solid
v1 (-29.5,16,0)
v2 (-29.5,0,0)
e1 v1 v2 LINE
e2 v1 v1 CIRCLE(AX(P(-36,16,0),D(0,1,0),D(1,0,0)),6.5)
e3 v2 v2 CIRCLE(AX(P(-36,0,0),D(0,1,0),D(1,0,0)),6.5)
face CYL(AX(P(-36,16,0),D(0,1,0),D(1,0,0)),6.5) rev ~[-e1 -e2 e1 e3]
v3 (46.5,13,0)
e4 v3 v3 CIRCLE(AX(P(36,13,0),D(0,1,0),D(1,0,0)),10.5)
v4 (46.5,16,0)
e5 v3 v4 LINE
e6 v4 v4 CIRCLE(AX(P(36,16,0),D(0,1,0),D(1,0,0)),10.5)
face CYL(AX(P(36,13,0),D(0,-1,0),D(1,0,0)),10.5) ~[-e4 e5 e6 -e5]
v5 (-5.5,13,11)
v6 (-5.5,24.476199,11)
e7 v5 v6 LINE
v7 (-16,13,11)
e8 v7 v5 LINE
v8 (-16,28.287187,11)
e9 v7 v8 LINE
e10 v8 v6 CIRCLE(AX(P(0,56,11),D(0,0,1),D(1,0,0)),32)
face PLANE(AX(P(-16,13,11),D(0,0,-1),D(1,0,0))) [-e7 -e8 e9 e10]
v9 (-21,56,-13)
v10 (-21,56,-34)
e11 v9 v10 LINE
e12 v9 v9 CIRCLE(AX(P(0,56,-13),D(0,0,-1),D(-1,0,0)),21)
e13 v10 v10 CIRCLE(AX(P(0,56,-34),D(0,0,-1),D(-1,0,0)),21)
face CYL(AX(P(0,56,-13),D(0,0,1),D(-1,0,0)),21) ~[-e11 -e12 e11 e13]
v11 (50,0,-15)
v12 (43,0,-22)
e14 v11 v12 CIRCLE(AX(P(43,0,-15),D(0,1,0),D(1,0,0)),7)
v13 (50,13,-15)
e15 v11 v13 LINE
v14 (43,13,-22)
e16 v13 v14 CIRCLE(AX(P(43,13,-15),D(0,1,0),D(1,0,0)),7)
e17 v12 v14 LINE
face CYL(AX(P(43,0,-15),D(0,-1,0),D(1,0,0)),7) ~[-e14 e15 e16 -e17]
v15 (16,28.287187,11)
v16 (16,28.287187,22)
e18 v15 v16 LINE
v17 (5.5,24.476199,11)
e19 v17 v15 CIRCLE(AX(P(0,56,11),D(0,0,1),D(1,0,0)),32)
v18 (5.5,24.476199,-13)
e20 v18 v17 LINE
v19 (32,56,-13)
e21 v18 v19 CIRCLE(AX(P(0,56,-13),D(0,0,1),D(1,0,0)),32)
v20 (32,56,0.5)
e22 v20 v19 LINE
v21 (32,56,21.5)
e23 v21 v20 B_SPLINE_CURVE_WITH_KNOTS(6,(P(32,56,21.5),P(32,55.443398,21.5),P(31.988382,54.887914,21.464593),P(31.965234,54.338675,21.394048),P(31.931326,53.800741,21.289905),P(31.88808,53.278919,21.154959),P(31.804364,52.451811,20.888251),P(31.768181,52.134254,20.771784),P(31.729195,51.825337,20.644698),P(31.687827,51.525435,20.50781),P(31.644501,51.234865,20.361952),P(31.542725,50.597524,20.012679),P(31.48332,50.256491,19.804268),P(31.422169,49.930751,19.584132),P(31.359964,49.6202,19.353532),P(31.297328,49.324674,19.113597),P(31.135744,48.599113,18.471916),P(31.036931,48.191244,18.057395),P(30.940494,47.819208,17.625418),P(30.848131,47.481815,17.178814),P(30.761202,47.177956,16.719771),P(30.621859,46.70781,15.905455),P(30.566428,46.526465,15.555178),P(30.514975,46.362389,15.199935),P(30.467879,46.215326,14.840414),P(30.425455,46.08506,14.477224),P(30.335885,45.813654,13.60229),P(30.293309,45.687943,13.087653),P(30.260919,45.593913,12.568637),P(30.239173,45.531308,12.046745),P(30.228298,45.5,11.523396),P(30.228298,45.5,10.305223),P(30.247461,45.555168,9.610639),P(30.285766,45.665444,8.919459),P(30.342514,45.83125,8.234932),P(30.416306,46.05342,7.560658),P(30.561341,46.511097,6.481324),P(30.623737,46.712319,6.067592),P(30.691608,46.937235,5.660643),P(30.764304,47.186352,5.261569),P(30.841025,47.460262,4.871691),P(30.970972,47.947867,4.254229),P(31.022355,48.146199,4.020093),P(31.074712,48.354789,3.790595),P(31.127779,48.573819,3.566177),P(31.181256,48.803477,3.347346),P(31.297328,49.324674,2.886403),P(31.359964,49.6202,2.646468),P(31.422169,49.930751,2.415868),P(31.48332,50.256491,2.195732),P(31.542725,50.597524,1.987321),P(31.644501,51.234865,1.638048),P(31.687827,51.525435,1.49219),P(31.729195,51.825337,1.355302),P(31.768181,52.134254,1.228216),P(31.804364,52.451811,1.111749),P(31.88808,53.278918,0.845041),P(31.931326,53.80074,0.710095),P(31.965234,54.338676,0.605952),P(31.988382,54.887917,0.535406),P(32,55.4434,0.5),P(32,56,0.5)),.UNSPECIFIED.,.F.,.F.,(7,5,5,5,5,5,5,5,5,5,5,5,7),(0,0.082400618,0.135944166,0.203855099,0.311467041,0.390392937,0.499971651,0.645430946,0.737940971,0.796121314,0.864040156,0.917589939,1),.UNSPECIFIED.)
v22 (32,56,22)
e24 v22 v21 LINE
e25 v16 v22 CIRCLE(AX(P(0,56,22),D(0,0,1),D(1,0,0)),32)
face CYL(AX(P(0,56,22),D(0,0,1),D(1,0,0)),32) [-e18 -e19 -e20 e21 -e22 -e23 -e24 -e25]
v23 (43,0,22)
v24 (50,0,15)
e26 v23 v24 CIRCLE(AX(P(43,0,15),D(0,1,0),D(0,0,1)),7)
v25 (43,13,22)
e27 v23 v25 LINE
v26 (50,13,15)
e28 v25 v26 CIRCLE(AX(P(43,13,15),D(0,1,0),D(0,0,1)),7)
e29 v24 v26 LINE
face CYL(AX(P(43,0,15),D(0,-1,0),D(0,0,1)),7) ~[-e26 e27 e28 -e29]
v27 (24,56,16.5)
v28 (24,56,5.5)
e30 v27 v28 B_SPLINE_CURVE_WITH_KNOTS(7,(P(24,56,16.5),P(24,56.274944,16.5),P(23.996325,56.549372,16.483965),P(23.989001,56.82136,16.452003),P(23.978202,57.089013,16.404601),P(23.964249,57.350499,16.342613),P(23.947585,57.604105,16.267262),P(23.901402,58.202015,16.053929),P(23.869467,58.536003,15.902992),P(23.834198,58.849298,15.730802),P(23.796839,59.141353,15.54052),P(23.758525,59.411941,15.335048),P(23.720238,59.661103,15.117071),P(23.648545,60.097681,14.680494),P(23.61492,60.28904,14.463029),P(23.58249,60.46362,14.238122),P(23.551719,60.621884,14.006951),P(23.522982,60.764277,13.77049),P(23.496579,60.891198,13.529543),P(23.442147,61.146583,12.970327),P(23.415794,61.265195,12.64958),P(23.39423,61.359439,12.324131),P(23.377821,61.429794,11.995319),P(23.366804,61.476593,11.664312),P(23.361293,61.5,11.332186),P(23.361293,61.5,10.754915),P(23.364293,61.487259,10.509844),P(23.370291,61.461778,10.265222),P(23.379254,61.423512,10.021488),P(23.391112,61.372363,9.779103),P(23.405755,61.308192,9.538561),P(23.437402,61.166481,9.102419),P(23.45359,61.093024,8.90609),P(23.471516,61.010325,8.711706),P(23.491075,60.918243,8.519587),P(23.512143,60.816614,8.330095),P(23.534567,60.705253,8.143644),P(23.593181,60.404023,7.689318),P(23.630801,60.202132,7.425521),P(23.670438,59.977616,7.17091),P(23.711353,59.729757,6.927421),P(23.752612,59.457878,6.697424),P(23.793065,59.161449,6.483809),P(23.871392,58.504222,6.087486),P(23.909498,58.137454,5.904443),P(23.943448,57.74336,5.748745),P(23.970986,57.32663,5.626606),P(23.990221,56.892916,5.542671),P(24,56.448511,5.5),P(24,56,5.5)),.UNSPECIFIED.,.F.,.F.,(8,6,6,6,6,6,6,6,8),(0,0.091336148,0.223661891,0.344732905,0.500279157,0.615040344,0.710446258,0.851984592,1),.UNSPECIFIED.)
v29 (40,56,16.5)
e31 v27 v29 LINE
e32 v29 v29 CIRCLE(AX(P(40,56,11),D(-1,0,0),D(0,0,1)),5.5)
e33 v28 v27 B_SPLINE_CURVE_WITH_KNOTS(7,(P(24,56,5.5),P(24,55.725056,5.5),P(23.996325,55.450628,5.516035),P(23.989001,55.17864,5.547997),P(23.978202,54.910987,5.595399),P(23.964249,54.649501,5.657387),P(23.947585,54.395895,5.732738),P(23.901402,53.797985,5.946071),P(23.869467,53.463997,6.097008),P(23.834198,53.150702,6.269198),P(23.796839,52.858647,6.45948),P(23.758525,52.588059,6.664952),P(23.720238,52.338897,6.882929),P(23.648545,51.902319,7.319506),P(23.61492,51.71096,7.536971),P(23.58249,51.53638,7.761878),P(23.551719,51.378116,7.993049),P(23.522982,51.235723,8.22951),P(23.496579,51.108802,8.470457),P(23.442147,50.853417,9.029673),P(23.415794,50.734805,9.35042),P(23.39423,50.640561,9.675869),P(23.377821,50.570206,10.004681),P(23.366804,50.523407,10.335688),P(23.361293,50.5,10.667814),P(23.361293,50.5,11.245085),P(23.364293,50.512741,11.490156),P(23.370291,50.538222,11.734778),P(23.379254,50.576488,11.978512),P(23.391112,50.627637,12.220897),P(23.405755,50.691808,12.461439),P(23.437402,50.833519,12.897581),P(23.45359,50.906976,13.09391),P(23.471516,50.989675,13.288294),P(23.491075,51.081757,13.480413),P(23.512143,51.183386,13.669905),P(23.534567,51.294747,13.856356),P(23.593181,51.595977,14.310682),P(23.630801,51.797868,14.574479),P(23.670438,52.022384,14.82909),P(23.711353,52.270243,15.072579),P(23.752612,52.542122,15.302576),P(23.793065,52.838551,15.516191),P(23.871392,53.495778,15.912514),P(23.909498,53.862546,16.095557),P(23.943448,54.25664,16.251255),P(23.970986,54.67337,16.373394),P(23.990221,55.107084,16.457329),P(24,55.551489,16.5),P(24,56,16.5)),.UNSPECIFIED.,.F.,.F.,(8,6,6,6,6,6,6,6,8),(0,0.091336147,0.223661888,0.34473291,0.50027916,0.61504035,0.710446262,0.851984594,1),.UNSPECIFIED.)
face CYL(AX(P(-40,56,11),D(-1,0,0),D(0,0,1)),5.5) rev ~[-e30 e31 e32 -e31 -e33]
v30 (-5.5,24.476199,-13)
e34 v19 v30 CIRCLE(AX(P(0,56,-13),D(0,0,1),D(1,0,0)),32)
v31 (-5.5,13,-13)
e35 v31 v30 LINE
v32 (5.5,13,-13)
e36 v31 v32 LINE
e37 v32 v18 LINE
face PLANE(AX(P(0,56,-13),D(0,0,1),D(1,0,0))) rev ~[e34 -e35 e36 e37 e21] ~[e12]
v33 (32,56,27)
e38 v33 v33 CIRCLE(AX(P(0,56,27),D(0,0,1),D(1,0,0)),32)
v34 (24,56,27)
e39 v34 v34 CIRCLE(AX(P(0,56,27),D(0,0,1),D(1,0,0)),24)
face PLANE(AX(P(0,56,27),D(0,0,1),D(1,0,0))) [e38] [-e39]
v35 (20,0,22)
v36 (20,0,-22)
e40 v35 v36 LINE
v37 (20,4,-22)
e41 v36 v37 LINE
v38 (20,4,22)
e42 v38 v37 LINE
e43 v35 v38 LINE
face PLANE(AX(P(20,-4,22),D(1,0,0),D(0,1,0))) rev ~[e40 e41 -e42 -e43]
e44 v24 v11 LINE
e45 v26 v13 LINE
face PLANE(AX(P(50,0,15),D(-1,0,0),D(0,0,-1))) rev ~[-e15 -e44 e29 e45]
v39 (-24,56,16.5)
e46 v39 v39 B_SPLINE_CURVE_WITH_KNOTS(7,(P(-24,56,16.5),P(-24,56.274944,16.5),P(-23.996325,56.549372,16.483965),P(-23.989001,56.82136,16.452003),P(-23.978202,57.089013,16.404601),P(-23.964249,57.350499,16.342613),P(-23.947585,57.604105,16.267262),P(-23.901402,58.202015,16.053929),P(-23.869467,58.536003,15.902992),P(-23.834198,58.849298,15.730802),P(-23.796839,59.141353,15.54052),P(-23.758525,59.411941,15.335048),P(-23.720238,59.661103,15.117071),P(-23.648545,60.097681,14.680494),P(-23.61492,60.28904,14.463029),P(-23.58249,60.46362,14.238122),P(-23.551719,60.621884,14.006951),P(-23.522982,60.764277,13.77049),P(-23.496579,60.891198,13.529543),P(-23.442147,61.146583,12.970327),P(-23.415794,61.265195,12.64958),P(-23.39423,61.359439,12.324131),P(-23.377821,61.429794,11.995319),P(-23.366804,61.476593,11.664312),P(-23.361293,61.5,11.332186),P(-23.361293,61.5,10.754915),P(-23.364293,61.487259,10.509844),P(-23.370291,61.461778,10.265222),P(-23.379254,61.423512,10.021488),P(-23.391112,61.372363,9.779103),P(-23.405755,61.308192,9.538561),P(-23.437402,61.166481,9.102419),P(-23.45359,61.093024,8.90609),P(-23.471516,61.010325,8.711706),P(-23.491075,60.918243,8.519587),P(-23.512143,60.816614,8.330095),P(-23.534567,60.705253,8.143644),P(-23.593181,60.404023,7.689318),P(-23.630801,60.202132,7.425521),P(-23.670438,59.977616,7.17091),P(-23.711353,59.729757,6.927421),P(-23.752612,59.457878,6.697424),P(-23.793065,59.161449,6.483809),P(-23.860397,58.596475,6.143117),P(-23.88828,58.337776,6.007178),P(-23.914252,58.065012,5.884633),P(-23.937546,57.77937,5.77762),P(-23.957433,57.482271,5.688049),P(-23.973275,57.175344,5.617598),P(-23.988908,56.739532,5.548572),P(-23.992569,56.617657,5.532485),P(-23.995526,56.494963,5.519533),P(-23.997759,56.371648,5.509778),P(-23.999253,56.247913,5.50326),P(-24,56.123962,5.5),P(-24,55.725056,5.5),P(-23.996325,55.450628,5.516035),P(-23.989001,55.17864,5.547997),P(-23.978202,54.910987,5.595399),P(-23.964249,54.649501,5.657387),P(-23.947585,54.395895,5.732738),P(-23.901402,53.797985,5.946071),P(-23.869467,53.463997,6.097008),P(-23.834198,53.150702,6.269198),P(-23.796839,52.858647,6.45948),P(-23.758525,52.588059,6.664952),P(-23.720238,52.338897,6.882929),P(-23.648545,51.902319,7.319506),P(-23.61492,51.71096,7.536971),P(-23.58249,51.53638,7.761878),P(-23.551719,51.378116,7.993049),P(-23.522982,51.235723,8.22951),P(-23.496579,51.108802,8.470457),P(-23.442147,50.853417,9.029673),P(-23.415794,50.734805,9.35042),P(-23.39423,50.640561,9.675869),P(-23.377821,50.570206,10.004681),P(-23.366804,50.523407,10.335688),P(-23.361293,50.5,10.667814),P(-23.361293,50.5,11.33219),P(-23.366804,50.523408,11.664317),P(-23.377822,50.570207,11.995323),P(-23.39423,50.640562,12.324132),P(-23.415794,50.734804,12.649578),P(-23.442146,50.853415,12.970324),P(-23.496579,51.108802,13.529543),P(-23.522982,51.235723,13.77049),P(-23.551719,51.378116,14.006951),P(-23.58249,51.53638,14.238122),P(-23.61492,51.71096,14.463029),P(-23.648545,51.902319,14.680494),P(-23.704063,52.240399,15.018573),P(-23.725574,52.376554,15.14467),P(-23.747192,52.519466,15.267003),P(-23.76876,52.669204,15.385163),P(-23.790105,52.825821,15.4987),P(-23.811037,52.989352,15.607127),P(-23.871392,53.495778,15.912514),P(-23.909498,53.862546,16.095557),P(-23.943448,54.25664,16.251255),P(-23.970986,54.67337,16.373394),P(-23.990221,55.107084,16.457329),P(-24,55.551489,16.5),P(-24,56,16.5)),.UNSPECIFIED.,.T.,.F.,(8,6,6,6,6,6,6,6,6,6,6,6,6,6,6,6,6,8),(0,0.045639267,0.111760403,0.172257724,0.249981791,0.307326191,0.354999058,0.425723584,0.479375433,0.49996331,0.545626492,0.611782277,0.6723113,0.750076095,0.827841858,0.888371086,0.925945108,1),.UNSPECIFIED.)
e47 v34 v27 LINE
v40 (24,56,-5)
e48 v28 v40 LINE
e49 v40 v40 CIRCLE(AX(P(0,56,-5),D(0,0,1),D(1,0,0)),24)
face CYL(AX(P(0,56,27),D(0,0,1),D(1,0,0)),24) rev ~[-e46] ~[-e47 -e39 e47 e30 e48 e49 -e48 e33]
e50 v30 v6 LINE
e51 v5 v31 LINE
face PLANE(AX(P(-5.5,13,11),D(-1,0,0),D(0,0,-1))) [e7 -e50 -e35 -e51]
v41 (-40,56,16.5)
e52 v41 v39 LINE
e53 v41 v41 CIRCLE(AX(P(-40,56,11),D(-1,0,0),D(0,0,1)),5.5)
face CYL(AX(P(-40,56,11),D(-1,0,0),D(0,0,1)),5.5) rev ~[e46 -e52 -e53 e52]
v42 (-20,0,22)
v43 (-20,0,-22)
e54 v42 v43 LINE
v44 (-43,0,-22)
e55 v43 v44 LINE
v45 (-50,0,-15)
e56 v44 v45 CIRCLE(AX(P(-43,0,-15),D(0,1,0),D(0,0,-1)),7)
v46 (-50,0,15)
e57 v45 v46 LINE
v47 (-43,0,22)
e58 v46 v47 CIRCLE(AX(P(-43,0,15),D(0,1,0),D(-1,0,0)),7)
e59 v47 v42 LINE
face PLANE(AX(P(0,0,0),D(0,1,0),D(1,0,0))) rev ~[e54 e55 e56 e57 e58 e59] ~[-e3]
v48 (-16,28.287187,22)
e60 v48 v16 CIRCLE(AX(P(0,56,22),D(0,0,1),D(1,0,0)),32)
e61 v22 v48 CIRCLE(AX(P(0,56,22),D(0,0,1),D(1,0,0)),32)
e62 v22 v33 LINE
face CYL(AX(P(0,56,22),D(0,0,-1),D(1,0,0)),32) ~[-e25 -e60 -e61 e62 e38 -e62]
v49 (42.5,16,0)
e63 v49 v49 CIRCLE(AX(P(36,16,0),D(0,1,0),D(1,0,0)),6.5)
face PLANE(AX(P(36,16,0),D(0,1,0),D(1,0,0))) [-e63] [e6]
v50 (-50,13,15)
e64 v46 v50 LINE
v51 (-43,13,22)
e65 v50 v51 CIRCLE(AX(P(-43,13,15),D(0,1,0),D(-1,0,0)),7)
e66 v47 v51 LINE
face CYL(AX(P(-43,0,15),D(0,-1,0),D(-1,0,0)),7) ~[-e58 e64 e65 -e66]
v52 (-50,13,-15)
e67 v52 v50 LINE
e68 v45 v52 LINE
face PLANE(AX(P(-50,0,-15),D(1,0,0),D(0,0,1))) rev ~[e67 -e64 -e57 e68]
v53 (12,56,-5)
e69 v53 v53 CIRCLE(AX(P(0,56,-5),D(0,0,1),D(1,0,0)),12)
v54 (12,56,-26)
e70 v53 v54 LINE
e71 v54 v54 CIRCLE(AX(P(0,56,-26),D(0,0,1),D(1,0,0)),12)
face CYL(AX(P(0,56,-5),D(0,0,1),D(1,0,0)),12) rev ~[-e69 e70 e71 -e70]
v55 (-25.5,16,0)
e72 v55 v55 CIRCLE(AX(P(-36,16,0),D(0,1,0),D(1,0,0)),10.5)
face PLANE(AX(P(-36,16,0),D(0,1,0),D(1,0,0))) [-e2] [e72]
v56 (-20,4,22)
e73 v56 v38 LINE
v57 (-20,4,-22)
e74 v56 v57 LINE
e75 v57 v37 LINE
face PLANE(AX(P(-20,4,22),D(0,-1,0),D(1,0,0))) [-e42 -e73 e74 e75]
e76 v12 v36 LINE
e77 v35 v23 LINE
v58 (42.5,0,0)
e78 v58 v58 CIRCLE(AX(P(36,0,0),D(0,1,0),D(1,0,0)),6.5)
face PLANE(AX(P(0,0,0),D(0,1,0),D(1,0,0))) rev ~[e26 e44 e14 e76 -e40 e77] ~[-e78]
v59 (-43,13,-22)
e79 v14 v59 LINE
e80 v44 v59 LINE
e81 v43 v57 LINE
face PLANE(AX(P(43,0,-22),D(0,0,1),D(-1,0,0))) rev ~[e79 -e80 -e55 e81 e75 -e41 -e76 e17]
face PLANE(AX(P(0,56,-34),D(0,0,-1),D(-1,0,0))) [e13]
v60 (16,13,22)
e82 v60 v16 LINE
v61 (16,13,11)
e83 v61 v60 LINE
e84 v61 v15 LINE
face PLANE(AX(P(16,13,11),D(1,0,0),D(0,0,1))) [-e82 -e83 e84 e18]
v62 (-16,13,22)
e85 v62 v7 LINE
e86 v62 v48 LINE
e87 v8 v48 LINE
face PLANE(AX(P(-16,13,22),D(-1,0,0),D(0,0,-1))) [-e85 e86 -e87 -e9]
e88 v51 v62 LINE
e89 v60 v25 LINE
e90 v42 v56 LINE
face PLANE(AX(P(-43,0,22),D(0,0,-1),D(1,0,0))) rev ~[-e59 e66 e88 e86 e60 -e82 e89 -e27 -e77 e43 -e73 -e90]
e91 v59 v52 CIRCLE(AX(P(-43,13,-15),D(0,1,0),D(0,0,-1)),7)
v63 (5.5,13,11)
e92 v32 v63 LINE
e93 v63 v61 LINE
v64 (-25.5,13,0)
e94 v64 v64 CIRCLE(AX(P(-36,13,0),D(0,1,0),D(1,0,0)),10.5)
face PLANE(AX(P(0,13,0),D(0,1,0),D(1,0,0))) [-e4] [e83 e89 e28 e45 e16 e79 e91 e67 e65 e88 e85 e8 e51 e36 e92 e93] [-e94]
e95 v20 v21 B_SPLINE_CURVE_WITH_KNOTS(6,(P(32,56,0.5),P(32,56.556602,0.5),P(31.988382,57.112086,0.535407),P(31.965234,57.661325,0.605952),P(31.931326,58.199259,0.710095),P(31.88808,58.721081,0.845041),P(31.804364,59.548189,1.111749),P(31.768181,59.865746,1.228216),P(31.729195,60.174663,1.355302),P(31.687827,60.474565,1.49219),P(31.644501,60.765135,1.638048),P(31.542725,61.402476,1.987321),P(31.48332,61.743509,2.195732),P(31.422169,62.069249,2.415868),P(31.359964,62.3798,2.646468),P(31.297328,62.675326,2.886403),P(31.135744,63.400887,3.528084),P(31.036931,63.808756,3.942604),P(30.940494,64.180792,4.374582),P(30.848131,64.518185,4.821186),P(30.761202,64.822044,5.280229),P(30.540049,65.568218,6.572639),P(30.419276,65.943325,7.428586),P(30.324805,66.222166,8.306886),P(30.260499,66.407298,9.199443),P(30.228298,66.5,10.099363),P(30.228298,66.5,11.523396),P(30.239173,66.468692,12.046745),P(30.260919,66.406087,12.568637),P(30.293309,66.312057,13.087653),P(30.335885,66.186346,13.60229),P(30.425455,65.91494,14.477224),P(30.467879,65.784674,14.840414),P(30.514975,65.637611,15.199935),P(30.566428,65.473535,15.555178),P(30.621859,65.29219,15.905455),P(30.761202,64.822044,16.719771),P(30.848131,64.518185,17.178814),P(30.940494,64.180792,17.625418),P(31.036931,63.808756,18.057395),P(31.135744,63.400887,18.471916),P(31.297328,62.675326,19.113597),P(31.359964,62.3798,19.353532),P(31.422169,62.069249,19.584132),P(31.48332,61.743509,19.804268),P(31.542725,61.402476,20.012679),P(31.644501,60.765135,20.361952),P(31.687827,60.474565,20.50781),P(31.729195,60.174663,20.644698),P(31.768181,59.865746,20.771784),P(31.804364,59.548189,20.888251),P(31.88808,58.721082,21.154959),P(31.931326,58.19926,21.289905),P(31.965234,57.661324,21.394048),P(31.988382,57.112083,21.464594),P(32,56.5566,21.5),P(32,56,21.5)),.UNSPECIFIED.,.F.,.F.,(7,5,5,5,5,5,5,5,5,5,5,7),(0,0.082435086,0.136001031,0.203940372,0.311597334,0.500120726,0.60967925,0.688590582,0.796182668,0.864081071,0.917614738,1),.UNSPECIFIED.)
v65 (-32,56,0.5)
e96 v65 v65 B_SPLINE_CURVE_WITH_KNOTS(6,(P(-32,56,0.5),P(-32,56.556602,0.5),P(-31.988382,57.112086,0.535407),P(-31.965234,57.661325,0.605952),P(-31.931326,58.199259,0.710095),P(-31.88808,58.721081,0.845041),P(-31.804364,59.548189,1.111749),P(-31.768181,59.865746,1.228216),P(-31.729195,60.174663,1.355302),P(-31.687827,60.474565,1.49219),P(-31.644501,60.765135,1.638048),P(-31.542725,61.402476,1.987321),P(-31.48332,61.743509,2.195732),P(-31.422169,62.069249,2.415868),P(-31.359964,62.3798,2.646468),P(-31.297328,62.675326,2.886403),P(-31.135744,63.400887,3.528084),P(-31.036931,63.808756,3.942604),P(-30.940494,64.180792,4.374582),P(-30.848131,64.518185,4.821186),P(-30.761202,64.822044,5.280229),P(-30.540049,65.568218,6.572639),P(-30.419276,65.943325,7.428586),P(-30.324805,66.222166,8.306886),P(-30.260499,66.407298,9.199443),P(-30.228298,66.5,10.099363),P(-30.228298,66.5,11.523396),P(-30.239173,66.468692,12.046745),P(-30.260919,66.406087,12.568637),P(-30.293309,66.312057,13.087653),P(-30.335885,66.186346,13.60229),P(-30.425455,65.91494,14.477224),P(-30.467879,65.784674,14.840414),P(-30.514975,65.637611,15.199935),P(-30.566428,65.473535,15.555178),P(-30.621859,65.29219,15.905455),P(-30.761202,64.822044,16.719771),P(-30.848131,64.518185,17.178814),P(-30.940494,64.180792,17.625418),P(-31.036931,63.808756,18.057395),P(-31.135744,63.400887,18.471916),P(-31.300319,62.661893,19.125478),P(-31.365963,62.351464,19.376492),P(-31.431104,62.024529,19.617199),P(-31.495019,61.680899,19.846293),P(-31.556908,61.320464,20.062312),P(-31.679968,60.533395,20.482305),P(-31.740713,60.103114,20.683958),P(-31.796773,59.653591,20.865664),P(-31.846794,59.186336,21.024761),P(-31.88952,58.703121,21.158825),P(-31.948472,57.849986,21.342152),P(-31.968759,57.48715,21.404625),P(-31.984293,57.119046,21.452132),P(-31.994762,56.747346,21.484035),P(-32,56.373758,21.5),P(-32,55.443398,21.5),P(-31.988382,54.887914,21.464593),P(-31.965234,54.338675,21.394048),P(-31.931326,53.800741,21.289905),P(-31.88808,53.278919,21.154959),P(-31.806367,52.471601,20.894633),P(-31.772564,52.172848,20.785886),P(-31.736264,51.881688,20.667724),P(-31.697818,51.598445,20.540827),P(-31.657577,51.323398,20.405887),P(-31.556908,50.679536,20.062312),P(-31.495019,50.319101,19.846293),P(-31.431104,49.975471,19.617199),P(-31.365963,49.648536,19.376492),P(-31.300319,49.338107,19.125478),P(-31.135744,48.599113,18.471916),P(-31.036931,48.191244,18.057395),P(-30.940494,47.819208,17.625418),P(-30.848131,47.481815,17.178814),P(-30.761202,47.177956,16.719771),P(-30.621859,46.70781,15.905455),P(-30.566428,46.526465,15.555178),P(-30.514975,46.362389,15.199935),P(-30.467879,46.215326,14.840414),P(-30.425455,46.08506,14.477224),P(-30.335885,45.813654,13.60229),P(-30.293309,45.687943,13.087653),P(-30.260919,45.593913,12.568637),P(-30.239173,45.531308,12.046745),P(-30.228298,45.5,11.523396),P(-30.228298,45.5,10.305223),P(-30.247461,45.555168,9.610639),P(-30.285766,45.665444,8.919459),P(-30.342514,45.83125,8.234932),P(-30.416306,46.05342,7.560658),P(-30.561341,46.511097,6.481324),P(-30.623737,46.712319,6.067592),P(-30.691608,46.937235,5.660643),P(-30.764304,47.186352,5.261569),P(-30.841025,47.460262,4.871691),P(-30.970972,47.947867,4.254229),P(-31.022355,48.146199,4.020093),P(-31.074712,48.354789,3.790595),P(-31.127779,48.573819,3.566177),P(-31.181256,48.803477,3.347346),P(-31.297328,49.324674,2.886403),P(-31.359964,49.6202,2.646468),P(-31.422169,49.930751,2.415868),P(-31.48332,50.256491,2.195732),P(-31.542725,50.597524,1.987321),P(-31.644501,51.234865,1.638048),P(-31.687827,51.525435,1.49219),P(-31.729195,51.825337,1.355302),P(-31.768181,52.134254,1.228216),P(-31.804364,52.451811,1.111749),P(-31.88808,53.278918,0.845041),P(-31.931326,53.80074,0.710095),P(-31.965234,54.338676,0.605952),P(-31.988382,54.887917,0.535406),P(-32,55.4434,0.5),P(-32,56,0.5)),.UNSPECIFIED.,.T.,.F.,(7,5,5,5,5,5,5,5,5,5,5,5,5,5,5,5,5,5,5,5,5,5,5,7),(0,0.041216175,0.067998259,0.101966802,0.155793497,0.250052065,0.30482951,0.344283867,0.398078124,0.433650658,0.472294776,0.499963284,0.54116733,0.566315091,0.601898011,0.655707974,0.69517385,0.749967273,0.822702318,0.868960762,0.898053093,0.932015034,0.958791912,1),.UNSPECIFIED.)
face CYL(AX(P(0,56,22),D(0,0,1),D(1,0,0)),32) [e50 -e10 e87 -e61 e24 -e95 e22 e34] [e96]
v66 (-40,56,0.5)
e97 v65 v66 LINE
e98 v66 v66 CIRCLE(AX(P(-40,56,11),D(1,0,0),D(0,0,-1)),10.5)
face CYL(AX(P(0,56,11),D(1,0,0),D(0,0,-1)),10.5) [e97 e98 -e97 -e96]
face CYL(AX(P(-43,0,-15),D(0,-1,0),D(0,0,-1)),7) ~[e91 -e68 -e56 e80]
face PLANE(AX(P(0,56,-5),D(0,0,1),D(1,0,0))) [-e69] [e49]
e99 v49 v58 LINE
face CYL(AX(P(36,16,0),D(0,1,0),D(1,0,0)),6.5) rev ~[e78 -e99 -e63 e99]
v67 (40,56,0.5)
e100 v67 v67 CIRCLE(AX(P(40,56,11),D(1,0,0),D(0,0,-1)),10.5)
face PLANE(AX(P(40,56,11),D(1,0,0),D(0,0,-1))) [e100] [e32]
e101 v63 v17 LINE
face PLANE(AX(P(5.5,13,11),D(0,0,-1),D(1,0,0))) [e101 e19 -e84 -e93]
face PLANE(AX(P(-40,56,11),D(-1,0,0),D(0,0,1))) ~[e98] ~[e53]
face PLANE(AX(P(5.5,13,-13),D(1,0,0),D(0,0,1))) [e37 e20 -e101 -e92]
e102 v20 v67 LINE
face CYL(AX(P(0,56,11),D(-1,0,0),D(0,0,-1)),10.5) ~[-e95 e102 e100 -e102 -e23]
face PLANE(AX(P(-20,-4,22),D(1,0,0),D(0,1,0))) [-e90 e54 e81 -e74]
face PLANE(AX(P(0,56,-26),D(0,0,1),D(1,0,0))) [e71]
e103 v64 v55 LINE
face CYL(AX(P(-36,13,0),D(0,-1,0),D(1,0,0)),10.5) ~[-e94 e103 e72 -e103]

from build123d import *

# Parameters (mm, degrees)
EXTRUDE_1_DEPTH      = 13
SKETCH_2_R           = 10.5
EXTRUDE_2_DEPTH      = 3
EXTRUDE_3_DEPTH      = 56
SKETCH_4_R           = 32
EXTRUDE_4_DEPTH      = 5
EXTRUDE_4_DEPTH_BACK = 35
SKETCH_5_R           = 21
EXTRUDE_5_DEPTH      = 21
SKETCH_6_R           = 10.5
EXTRUDE_6_DEPTH      = 40
SKETCH_7_R           = 5.5
CUT_EXTRUDE_1_DEPTH  = 91
SKETCH_8_R           = 24
CUT_EXTRUDE_2_DEPTH  = 32
SKETCH_9_R           = 12
CUT_EXTRUDE_3_DEPTH  = 21
SKETCH_10_R          = 6.5
CUT_EXTRUDE_4_DEPTH  = 17
SKETCH_11_W          = 40
SKETCH_11_H          = 8
CUT_EXTRUDE_5_DEPTH  = 57


with BuildPart() as part:
    # 草图1 → 凸台-拉伸1 (new body)
    with BuildSketch(Plane(origin=(0, 0, 0), x_dir=(1, 0, 0), z_dir=(0, 1, 0))):
        with BuildLine():
            Line((-43, -22), (43, -22))
            ThreePointArc((43, -22), (47.949747468, -19.949747468), (50, -15))
            Line((50, -15), (50, 15))
            ThreePointArc((50, 15), (47.949747468, 19.949747468), (43, 22))
            Line((43, 22), (-43, 22))
            ThreePointArc((-43, 22), (-47.949747468, 19.949747468), (-50, 15))
            Line((-50, 15), (-50, -15))
            ThreePointArc((-50, -15), (-47.949747468, -19.949747468), (-43, -22))
        make_face()
    extrude(amount=EXTRUDE_1_DEPTH)

    # 草图2 → 凸台-拉伸2 (add)
    with BuildSketch(Plane(origin=(0, 13, 0), x_dir=(1, 0, 0), z_dir=(0, 1, 0))):
        with Locations((-36, 0)):
            Circle(SKETCH_2_R)
        with Locations((36, 0)):
            Circle(SKETCH_2_R)
    extrude(amount=EXTRUDE_2_DEPTH)

    # 草图3 → 凸台-拉伸3 (add)
    with BuildSketch(Plane(origin=(0, 13, 0), x_dir=(1, 0, 0), z_dir=(0, 1, 0))):
        Polygon((16, -22), (-16, -22), (-16, -11), (-5.5, -11), (-5.5, 13), (5.5, 13), (5.5, -11), (16, -11), align=None)
    extrude(amount=EXTRUDE_3_DEPTH)

    # 草图4 → 凸台-拉伸4 (add, two sides)
    with BuildSketch(Plane.XY.offset(22)) as extrude_4_sk:
        with Locations((0, 56)):
            Circle(SKETCH_4_R)
    extrude(amount=EXTRUDE_4_DEPTH)
    extrude(extrude_4_sk.sketch, amount=-EXTRUDE_4_DEPTH_BACK)

    # 草图5 → 凸台-拉伸5 (add)
    with BuildSketch(Plane(origin=(0, 0, -13), x_dir=(-1, 0, 0), z_dir=(0, 0, -1))):
        with Locations((0, 56)):
            Circle(SKETCH_5_R)
    extrude(amount=EXTRUDE_5_DEPTH)

    # 草图6 → 凸台-拉伸6 (add)
    with BuildSketch(Plane(origin=(0, 0, 0), x_dir=(0, 0, -1), z_dir=(1, 0, 0))):
        with Locations((-11, 56)):
            Circle(SKETCH_6_R)
    extrude_6 = extrude(amount=EXTRUDE_6_DEPTH)

    # 镜向1: 凸台-拉伸6 across plane
    add(extrude_6.mirror(Plane(origin=(0, 0, 0), x_dir=(0, 0, 1), z_dir=(1, 0, 0))))

    # 草图7 → 切除-拉伸1 (cut, through all)
    with BuildSketch(Plane.ZY.offset(40)):
        with Locations((11, 56)):
            Circle(SKETCH_7_R)
    extrude(amount=-CUT_EXTRUDE_1_DEPTH, mode=Mode.SUBTRACT)

    # 草图8 → 切除-拉伸2 (cut)
    with BuildSketch(Plane.XY.offset(27)):
        with Locations((0, 56)):
            Circle(SKETCH_8_R)
    extrude(amount=-CUT_EXTRUDE_2_DEPTH, mode=Mode.SUBTRACT)

    # 草图9 → 切除-拉伸3 (cut)
    with BuildSketch(Plane.XY.offset(-5)):
        with Locations((0, 56)):
            Circle(SKETCH_9_R)
    extrude(amount=-CUT_EXTRUDE_3_DEPTH, mode=Mode.SUBTRACT)

    # 草图10 → 切除-拉伸4 (cut, through all)
    with BuildSketch(Plane(origin=(0, 16, 0), x_dir=(1, 0, 0), z_dir=(0, 1, 0))):
        with Locations((-36, 0)):
            Circle(SKETCH_10_R)
        with Locations((36, 0)):
            Circle(SKETCH_10_R)
    extrude(amount=-CUT_EXTRUDE_4_DEPTH, mode=Mode.SUBTRACT)

    # 草图11 → 切除-拉伸5 (cut, through all)
    with BuildSketch(Plane.XY.offset(22)):
        Rectangle(SKETCH_11_W, SKETCH_11_H)
    extrude(amount=-CUT_EXTRUDE_5_DEPTH, mode=Mode.SUBTRACT)


solid = part.part
